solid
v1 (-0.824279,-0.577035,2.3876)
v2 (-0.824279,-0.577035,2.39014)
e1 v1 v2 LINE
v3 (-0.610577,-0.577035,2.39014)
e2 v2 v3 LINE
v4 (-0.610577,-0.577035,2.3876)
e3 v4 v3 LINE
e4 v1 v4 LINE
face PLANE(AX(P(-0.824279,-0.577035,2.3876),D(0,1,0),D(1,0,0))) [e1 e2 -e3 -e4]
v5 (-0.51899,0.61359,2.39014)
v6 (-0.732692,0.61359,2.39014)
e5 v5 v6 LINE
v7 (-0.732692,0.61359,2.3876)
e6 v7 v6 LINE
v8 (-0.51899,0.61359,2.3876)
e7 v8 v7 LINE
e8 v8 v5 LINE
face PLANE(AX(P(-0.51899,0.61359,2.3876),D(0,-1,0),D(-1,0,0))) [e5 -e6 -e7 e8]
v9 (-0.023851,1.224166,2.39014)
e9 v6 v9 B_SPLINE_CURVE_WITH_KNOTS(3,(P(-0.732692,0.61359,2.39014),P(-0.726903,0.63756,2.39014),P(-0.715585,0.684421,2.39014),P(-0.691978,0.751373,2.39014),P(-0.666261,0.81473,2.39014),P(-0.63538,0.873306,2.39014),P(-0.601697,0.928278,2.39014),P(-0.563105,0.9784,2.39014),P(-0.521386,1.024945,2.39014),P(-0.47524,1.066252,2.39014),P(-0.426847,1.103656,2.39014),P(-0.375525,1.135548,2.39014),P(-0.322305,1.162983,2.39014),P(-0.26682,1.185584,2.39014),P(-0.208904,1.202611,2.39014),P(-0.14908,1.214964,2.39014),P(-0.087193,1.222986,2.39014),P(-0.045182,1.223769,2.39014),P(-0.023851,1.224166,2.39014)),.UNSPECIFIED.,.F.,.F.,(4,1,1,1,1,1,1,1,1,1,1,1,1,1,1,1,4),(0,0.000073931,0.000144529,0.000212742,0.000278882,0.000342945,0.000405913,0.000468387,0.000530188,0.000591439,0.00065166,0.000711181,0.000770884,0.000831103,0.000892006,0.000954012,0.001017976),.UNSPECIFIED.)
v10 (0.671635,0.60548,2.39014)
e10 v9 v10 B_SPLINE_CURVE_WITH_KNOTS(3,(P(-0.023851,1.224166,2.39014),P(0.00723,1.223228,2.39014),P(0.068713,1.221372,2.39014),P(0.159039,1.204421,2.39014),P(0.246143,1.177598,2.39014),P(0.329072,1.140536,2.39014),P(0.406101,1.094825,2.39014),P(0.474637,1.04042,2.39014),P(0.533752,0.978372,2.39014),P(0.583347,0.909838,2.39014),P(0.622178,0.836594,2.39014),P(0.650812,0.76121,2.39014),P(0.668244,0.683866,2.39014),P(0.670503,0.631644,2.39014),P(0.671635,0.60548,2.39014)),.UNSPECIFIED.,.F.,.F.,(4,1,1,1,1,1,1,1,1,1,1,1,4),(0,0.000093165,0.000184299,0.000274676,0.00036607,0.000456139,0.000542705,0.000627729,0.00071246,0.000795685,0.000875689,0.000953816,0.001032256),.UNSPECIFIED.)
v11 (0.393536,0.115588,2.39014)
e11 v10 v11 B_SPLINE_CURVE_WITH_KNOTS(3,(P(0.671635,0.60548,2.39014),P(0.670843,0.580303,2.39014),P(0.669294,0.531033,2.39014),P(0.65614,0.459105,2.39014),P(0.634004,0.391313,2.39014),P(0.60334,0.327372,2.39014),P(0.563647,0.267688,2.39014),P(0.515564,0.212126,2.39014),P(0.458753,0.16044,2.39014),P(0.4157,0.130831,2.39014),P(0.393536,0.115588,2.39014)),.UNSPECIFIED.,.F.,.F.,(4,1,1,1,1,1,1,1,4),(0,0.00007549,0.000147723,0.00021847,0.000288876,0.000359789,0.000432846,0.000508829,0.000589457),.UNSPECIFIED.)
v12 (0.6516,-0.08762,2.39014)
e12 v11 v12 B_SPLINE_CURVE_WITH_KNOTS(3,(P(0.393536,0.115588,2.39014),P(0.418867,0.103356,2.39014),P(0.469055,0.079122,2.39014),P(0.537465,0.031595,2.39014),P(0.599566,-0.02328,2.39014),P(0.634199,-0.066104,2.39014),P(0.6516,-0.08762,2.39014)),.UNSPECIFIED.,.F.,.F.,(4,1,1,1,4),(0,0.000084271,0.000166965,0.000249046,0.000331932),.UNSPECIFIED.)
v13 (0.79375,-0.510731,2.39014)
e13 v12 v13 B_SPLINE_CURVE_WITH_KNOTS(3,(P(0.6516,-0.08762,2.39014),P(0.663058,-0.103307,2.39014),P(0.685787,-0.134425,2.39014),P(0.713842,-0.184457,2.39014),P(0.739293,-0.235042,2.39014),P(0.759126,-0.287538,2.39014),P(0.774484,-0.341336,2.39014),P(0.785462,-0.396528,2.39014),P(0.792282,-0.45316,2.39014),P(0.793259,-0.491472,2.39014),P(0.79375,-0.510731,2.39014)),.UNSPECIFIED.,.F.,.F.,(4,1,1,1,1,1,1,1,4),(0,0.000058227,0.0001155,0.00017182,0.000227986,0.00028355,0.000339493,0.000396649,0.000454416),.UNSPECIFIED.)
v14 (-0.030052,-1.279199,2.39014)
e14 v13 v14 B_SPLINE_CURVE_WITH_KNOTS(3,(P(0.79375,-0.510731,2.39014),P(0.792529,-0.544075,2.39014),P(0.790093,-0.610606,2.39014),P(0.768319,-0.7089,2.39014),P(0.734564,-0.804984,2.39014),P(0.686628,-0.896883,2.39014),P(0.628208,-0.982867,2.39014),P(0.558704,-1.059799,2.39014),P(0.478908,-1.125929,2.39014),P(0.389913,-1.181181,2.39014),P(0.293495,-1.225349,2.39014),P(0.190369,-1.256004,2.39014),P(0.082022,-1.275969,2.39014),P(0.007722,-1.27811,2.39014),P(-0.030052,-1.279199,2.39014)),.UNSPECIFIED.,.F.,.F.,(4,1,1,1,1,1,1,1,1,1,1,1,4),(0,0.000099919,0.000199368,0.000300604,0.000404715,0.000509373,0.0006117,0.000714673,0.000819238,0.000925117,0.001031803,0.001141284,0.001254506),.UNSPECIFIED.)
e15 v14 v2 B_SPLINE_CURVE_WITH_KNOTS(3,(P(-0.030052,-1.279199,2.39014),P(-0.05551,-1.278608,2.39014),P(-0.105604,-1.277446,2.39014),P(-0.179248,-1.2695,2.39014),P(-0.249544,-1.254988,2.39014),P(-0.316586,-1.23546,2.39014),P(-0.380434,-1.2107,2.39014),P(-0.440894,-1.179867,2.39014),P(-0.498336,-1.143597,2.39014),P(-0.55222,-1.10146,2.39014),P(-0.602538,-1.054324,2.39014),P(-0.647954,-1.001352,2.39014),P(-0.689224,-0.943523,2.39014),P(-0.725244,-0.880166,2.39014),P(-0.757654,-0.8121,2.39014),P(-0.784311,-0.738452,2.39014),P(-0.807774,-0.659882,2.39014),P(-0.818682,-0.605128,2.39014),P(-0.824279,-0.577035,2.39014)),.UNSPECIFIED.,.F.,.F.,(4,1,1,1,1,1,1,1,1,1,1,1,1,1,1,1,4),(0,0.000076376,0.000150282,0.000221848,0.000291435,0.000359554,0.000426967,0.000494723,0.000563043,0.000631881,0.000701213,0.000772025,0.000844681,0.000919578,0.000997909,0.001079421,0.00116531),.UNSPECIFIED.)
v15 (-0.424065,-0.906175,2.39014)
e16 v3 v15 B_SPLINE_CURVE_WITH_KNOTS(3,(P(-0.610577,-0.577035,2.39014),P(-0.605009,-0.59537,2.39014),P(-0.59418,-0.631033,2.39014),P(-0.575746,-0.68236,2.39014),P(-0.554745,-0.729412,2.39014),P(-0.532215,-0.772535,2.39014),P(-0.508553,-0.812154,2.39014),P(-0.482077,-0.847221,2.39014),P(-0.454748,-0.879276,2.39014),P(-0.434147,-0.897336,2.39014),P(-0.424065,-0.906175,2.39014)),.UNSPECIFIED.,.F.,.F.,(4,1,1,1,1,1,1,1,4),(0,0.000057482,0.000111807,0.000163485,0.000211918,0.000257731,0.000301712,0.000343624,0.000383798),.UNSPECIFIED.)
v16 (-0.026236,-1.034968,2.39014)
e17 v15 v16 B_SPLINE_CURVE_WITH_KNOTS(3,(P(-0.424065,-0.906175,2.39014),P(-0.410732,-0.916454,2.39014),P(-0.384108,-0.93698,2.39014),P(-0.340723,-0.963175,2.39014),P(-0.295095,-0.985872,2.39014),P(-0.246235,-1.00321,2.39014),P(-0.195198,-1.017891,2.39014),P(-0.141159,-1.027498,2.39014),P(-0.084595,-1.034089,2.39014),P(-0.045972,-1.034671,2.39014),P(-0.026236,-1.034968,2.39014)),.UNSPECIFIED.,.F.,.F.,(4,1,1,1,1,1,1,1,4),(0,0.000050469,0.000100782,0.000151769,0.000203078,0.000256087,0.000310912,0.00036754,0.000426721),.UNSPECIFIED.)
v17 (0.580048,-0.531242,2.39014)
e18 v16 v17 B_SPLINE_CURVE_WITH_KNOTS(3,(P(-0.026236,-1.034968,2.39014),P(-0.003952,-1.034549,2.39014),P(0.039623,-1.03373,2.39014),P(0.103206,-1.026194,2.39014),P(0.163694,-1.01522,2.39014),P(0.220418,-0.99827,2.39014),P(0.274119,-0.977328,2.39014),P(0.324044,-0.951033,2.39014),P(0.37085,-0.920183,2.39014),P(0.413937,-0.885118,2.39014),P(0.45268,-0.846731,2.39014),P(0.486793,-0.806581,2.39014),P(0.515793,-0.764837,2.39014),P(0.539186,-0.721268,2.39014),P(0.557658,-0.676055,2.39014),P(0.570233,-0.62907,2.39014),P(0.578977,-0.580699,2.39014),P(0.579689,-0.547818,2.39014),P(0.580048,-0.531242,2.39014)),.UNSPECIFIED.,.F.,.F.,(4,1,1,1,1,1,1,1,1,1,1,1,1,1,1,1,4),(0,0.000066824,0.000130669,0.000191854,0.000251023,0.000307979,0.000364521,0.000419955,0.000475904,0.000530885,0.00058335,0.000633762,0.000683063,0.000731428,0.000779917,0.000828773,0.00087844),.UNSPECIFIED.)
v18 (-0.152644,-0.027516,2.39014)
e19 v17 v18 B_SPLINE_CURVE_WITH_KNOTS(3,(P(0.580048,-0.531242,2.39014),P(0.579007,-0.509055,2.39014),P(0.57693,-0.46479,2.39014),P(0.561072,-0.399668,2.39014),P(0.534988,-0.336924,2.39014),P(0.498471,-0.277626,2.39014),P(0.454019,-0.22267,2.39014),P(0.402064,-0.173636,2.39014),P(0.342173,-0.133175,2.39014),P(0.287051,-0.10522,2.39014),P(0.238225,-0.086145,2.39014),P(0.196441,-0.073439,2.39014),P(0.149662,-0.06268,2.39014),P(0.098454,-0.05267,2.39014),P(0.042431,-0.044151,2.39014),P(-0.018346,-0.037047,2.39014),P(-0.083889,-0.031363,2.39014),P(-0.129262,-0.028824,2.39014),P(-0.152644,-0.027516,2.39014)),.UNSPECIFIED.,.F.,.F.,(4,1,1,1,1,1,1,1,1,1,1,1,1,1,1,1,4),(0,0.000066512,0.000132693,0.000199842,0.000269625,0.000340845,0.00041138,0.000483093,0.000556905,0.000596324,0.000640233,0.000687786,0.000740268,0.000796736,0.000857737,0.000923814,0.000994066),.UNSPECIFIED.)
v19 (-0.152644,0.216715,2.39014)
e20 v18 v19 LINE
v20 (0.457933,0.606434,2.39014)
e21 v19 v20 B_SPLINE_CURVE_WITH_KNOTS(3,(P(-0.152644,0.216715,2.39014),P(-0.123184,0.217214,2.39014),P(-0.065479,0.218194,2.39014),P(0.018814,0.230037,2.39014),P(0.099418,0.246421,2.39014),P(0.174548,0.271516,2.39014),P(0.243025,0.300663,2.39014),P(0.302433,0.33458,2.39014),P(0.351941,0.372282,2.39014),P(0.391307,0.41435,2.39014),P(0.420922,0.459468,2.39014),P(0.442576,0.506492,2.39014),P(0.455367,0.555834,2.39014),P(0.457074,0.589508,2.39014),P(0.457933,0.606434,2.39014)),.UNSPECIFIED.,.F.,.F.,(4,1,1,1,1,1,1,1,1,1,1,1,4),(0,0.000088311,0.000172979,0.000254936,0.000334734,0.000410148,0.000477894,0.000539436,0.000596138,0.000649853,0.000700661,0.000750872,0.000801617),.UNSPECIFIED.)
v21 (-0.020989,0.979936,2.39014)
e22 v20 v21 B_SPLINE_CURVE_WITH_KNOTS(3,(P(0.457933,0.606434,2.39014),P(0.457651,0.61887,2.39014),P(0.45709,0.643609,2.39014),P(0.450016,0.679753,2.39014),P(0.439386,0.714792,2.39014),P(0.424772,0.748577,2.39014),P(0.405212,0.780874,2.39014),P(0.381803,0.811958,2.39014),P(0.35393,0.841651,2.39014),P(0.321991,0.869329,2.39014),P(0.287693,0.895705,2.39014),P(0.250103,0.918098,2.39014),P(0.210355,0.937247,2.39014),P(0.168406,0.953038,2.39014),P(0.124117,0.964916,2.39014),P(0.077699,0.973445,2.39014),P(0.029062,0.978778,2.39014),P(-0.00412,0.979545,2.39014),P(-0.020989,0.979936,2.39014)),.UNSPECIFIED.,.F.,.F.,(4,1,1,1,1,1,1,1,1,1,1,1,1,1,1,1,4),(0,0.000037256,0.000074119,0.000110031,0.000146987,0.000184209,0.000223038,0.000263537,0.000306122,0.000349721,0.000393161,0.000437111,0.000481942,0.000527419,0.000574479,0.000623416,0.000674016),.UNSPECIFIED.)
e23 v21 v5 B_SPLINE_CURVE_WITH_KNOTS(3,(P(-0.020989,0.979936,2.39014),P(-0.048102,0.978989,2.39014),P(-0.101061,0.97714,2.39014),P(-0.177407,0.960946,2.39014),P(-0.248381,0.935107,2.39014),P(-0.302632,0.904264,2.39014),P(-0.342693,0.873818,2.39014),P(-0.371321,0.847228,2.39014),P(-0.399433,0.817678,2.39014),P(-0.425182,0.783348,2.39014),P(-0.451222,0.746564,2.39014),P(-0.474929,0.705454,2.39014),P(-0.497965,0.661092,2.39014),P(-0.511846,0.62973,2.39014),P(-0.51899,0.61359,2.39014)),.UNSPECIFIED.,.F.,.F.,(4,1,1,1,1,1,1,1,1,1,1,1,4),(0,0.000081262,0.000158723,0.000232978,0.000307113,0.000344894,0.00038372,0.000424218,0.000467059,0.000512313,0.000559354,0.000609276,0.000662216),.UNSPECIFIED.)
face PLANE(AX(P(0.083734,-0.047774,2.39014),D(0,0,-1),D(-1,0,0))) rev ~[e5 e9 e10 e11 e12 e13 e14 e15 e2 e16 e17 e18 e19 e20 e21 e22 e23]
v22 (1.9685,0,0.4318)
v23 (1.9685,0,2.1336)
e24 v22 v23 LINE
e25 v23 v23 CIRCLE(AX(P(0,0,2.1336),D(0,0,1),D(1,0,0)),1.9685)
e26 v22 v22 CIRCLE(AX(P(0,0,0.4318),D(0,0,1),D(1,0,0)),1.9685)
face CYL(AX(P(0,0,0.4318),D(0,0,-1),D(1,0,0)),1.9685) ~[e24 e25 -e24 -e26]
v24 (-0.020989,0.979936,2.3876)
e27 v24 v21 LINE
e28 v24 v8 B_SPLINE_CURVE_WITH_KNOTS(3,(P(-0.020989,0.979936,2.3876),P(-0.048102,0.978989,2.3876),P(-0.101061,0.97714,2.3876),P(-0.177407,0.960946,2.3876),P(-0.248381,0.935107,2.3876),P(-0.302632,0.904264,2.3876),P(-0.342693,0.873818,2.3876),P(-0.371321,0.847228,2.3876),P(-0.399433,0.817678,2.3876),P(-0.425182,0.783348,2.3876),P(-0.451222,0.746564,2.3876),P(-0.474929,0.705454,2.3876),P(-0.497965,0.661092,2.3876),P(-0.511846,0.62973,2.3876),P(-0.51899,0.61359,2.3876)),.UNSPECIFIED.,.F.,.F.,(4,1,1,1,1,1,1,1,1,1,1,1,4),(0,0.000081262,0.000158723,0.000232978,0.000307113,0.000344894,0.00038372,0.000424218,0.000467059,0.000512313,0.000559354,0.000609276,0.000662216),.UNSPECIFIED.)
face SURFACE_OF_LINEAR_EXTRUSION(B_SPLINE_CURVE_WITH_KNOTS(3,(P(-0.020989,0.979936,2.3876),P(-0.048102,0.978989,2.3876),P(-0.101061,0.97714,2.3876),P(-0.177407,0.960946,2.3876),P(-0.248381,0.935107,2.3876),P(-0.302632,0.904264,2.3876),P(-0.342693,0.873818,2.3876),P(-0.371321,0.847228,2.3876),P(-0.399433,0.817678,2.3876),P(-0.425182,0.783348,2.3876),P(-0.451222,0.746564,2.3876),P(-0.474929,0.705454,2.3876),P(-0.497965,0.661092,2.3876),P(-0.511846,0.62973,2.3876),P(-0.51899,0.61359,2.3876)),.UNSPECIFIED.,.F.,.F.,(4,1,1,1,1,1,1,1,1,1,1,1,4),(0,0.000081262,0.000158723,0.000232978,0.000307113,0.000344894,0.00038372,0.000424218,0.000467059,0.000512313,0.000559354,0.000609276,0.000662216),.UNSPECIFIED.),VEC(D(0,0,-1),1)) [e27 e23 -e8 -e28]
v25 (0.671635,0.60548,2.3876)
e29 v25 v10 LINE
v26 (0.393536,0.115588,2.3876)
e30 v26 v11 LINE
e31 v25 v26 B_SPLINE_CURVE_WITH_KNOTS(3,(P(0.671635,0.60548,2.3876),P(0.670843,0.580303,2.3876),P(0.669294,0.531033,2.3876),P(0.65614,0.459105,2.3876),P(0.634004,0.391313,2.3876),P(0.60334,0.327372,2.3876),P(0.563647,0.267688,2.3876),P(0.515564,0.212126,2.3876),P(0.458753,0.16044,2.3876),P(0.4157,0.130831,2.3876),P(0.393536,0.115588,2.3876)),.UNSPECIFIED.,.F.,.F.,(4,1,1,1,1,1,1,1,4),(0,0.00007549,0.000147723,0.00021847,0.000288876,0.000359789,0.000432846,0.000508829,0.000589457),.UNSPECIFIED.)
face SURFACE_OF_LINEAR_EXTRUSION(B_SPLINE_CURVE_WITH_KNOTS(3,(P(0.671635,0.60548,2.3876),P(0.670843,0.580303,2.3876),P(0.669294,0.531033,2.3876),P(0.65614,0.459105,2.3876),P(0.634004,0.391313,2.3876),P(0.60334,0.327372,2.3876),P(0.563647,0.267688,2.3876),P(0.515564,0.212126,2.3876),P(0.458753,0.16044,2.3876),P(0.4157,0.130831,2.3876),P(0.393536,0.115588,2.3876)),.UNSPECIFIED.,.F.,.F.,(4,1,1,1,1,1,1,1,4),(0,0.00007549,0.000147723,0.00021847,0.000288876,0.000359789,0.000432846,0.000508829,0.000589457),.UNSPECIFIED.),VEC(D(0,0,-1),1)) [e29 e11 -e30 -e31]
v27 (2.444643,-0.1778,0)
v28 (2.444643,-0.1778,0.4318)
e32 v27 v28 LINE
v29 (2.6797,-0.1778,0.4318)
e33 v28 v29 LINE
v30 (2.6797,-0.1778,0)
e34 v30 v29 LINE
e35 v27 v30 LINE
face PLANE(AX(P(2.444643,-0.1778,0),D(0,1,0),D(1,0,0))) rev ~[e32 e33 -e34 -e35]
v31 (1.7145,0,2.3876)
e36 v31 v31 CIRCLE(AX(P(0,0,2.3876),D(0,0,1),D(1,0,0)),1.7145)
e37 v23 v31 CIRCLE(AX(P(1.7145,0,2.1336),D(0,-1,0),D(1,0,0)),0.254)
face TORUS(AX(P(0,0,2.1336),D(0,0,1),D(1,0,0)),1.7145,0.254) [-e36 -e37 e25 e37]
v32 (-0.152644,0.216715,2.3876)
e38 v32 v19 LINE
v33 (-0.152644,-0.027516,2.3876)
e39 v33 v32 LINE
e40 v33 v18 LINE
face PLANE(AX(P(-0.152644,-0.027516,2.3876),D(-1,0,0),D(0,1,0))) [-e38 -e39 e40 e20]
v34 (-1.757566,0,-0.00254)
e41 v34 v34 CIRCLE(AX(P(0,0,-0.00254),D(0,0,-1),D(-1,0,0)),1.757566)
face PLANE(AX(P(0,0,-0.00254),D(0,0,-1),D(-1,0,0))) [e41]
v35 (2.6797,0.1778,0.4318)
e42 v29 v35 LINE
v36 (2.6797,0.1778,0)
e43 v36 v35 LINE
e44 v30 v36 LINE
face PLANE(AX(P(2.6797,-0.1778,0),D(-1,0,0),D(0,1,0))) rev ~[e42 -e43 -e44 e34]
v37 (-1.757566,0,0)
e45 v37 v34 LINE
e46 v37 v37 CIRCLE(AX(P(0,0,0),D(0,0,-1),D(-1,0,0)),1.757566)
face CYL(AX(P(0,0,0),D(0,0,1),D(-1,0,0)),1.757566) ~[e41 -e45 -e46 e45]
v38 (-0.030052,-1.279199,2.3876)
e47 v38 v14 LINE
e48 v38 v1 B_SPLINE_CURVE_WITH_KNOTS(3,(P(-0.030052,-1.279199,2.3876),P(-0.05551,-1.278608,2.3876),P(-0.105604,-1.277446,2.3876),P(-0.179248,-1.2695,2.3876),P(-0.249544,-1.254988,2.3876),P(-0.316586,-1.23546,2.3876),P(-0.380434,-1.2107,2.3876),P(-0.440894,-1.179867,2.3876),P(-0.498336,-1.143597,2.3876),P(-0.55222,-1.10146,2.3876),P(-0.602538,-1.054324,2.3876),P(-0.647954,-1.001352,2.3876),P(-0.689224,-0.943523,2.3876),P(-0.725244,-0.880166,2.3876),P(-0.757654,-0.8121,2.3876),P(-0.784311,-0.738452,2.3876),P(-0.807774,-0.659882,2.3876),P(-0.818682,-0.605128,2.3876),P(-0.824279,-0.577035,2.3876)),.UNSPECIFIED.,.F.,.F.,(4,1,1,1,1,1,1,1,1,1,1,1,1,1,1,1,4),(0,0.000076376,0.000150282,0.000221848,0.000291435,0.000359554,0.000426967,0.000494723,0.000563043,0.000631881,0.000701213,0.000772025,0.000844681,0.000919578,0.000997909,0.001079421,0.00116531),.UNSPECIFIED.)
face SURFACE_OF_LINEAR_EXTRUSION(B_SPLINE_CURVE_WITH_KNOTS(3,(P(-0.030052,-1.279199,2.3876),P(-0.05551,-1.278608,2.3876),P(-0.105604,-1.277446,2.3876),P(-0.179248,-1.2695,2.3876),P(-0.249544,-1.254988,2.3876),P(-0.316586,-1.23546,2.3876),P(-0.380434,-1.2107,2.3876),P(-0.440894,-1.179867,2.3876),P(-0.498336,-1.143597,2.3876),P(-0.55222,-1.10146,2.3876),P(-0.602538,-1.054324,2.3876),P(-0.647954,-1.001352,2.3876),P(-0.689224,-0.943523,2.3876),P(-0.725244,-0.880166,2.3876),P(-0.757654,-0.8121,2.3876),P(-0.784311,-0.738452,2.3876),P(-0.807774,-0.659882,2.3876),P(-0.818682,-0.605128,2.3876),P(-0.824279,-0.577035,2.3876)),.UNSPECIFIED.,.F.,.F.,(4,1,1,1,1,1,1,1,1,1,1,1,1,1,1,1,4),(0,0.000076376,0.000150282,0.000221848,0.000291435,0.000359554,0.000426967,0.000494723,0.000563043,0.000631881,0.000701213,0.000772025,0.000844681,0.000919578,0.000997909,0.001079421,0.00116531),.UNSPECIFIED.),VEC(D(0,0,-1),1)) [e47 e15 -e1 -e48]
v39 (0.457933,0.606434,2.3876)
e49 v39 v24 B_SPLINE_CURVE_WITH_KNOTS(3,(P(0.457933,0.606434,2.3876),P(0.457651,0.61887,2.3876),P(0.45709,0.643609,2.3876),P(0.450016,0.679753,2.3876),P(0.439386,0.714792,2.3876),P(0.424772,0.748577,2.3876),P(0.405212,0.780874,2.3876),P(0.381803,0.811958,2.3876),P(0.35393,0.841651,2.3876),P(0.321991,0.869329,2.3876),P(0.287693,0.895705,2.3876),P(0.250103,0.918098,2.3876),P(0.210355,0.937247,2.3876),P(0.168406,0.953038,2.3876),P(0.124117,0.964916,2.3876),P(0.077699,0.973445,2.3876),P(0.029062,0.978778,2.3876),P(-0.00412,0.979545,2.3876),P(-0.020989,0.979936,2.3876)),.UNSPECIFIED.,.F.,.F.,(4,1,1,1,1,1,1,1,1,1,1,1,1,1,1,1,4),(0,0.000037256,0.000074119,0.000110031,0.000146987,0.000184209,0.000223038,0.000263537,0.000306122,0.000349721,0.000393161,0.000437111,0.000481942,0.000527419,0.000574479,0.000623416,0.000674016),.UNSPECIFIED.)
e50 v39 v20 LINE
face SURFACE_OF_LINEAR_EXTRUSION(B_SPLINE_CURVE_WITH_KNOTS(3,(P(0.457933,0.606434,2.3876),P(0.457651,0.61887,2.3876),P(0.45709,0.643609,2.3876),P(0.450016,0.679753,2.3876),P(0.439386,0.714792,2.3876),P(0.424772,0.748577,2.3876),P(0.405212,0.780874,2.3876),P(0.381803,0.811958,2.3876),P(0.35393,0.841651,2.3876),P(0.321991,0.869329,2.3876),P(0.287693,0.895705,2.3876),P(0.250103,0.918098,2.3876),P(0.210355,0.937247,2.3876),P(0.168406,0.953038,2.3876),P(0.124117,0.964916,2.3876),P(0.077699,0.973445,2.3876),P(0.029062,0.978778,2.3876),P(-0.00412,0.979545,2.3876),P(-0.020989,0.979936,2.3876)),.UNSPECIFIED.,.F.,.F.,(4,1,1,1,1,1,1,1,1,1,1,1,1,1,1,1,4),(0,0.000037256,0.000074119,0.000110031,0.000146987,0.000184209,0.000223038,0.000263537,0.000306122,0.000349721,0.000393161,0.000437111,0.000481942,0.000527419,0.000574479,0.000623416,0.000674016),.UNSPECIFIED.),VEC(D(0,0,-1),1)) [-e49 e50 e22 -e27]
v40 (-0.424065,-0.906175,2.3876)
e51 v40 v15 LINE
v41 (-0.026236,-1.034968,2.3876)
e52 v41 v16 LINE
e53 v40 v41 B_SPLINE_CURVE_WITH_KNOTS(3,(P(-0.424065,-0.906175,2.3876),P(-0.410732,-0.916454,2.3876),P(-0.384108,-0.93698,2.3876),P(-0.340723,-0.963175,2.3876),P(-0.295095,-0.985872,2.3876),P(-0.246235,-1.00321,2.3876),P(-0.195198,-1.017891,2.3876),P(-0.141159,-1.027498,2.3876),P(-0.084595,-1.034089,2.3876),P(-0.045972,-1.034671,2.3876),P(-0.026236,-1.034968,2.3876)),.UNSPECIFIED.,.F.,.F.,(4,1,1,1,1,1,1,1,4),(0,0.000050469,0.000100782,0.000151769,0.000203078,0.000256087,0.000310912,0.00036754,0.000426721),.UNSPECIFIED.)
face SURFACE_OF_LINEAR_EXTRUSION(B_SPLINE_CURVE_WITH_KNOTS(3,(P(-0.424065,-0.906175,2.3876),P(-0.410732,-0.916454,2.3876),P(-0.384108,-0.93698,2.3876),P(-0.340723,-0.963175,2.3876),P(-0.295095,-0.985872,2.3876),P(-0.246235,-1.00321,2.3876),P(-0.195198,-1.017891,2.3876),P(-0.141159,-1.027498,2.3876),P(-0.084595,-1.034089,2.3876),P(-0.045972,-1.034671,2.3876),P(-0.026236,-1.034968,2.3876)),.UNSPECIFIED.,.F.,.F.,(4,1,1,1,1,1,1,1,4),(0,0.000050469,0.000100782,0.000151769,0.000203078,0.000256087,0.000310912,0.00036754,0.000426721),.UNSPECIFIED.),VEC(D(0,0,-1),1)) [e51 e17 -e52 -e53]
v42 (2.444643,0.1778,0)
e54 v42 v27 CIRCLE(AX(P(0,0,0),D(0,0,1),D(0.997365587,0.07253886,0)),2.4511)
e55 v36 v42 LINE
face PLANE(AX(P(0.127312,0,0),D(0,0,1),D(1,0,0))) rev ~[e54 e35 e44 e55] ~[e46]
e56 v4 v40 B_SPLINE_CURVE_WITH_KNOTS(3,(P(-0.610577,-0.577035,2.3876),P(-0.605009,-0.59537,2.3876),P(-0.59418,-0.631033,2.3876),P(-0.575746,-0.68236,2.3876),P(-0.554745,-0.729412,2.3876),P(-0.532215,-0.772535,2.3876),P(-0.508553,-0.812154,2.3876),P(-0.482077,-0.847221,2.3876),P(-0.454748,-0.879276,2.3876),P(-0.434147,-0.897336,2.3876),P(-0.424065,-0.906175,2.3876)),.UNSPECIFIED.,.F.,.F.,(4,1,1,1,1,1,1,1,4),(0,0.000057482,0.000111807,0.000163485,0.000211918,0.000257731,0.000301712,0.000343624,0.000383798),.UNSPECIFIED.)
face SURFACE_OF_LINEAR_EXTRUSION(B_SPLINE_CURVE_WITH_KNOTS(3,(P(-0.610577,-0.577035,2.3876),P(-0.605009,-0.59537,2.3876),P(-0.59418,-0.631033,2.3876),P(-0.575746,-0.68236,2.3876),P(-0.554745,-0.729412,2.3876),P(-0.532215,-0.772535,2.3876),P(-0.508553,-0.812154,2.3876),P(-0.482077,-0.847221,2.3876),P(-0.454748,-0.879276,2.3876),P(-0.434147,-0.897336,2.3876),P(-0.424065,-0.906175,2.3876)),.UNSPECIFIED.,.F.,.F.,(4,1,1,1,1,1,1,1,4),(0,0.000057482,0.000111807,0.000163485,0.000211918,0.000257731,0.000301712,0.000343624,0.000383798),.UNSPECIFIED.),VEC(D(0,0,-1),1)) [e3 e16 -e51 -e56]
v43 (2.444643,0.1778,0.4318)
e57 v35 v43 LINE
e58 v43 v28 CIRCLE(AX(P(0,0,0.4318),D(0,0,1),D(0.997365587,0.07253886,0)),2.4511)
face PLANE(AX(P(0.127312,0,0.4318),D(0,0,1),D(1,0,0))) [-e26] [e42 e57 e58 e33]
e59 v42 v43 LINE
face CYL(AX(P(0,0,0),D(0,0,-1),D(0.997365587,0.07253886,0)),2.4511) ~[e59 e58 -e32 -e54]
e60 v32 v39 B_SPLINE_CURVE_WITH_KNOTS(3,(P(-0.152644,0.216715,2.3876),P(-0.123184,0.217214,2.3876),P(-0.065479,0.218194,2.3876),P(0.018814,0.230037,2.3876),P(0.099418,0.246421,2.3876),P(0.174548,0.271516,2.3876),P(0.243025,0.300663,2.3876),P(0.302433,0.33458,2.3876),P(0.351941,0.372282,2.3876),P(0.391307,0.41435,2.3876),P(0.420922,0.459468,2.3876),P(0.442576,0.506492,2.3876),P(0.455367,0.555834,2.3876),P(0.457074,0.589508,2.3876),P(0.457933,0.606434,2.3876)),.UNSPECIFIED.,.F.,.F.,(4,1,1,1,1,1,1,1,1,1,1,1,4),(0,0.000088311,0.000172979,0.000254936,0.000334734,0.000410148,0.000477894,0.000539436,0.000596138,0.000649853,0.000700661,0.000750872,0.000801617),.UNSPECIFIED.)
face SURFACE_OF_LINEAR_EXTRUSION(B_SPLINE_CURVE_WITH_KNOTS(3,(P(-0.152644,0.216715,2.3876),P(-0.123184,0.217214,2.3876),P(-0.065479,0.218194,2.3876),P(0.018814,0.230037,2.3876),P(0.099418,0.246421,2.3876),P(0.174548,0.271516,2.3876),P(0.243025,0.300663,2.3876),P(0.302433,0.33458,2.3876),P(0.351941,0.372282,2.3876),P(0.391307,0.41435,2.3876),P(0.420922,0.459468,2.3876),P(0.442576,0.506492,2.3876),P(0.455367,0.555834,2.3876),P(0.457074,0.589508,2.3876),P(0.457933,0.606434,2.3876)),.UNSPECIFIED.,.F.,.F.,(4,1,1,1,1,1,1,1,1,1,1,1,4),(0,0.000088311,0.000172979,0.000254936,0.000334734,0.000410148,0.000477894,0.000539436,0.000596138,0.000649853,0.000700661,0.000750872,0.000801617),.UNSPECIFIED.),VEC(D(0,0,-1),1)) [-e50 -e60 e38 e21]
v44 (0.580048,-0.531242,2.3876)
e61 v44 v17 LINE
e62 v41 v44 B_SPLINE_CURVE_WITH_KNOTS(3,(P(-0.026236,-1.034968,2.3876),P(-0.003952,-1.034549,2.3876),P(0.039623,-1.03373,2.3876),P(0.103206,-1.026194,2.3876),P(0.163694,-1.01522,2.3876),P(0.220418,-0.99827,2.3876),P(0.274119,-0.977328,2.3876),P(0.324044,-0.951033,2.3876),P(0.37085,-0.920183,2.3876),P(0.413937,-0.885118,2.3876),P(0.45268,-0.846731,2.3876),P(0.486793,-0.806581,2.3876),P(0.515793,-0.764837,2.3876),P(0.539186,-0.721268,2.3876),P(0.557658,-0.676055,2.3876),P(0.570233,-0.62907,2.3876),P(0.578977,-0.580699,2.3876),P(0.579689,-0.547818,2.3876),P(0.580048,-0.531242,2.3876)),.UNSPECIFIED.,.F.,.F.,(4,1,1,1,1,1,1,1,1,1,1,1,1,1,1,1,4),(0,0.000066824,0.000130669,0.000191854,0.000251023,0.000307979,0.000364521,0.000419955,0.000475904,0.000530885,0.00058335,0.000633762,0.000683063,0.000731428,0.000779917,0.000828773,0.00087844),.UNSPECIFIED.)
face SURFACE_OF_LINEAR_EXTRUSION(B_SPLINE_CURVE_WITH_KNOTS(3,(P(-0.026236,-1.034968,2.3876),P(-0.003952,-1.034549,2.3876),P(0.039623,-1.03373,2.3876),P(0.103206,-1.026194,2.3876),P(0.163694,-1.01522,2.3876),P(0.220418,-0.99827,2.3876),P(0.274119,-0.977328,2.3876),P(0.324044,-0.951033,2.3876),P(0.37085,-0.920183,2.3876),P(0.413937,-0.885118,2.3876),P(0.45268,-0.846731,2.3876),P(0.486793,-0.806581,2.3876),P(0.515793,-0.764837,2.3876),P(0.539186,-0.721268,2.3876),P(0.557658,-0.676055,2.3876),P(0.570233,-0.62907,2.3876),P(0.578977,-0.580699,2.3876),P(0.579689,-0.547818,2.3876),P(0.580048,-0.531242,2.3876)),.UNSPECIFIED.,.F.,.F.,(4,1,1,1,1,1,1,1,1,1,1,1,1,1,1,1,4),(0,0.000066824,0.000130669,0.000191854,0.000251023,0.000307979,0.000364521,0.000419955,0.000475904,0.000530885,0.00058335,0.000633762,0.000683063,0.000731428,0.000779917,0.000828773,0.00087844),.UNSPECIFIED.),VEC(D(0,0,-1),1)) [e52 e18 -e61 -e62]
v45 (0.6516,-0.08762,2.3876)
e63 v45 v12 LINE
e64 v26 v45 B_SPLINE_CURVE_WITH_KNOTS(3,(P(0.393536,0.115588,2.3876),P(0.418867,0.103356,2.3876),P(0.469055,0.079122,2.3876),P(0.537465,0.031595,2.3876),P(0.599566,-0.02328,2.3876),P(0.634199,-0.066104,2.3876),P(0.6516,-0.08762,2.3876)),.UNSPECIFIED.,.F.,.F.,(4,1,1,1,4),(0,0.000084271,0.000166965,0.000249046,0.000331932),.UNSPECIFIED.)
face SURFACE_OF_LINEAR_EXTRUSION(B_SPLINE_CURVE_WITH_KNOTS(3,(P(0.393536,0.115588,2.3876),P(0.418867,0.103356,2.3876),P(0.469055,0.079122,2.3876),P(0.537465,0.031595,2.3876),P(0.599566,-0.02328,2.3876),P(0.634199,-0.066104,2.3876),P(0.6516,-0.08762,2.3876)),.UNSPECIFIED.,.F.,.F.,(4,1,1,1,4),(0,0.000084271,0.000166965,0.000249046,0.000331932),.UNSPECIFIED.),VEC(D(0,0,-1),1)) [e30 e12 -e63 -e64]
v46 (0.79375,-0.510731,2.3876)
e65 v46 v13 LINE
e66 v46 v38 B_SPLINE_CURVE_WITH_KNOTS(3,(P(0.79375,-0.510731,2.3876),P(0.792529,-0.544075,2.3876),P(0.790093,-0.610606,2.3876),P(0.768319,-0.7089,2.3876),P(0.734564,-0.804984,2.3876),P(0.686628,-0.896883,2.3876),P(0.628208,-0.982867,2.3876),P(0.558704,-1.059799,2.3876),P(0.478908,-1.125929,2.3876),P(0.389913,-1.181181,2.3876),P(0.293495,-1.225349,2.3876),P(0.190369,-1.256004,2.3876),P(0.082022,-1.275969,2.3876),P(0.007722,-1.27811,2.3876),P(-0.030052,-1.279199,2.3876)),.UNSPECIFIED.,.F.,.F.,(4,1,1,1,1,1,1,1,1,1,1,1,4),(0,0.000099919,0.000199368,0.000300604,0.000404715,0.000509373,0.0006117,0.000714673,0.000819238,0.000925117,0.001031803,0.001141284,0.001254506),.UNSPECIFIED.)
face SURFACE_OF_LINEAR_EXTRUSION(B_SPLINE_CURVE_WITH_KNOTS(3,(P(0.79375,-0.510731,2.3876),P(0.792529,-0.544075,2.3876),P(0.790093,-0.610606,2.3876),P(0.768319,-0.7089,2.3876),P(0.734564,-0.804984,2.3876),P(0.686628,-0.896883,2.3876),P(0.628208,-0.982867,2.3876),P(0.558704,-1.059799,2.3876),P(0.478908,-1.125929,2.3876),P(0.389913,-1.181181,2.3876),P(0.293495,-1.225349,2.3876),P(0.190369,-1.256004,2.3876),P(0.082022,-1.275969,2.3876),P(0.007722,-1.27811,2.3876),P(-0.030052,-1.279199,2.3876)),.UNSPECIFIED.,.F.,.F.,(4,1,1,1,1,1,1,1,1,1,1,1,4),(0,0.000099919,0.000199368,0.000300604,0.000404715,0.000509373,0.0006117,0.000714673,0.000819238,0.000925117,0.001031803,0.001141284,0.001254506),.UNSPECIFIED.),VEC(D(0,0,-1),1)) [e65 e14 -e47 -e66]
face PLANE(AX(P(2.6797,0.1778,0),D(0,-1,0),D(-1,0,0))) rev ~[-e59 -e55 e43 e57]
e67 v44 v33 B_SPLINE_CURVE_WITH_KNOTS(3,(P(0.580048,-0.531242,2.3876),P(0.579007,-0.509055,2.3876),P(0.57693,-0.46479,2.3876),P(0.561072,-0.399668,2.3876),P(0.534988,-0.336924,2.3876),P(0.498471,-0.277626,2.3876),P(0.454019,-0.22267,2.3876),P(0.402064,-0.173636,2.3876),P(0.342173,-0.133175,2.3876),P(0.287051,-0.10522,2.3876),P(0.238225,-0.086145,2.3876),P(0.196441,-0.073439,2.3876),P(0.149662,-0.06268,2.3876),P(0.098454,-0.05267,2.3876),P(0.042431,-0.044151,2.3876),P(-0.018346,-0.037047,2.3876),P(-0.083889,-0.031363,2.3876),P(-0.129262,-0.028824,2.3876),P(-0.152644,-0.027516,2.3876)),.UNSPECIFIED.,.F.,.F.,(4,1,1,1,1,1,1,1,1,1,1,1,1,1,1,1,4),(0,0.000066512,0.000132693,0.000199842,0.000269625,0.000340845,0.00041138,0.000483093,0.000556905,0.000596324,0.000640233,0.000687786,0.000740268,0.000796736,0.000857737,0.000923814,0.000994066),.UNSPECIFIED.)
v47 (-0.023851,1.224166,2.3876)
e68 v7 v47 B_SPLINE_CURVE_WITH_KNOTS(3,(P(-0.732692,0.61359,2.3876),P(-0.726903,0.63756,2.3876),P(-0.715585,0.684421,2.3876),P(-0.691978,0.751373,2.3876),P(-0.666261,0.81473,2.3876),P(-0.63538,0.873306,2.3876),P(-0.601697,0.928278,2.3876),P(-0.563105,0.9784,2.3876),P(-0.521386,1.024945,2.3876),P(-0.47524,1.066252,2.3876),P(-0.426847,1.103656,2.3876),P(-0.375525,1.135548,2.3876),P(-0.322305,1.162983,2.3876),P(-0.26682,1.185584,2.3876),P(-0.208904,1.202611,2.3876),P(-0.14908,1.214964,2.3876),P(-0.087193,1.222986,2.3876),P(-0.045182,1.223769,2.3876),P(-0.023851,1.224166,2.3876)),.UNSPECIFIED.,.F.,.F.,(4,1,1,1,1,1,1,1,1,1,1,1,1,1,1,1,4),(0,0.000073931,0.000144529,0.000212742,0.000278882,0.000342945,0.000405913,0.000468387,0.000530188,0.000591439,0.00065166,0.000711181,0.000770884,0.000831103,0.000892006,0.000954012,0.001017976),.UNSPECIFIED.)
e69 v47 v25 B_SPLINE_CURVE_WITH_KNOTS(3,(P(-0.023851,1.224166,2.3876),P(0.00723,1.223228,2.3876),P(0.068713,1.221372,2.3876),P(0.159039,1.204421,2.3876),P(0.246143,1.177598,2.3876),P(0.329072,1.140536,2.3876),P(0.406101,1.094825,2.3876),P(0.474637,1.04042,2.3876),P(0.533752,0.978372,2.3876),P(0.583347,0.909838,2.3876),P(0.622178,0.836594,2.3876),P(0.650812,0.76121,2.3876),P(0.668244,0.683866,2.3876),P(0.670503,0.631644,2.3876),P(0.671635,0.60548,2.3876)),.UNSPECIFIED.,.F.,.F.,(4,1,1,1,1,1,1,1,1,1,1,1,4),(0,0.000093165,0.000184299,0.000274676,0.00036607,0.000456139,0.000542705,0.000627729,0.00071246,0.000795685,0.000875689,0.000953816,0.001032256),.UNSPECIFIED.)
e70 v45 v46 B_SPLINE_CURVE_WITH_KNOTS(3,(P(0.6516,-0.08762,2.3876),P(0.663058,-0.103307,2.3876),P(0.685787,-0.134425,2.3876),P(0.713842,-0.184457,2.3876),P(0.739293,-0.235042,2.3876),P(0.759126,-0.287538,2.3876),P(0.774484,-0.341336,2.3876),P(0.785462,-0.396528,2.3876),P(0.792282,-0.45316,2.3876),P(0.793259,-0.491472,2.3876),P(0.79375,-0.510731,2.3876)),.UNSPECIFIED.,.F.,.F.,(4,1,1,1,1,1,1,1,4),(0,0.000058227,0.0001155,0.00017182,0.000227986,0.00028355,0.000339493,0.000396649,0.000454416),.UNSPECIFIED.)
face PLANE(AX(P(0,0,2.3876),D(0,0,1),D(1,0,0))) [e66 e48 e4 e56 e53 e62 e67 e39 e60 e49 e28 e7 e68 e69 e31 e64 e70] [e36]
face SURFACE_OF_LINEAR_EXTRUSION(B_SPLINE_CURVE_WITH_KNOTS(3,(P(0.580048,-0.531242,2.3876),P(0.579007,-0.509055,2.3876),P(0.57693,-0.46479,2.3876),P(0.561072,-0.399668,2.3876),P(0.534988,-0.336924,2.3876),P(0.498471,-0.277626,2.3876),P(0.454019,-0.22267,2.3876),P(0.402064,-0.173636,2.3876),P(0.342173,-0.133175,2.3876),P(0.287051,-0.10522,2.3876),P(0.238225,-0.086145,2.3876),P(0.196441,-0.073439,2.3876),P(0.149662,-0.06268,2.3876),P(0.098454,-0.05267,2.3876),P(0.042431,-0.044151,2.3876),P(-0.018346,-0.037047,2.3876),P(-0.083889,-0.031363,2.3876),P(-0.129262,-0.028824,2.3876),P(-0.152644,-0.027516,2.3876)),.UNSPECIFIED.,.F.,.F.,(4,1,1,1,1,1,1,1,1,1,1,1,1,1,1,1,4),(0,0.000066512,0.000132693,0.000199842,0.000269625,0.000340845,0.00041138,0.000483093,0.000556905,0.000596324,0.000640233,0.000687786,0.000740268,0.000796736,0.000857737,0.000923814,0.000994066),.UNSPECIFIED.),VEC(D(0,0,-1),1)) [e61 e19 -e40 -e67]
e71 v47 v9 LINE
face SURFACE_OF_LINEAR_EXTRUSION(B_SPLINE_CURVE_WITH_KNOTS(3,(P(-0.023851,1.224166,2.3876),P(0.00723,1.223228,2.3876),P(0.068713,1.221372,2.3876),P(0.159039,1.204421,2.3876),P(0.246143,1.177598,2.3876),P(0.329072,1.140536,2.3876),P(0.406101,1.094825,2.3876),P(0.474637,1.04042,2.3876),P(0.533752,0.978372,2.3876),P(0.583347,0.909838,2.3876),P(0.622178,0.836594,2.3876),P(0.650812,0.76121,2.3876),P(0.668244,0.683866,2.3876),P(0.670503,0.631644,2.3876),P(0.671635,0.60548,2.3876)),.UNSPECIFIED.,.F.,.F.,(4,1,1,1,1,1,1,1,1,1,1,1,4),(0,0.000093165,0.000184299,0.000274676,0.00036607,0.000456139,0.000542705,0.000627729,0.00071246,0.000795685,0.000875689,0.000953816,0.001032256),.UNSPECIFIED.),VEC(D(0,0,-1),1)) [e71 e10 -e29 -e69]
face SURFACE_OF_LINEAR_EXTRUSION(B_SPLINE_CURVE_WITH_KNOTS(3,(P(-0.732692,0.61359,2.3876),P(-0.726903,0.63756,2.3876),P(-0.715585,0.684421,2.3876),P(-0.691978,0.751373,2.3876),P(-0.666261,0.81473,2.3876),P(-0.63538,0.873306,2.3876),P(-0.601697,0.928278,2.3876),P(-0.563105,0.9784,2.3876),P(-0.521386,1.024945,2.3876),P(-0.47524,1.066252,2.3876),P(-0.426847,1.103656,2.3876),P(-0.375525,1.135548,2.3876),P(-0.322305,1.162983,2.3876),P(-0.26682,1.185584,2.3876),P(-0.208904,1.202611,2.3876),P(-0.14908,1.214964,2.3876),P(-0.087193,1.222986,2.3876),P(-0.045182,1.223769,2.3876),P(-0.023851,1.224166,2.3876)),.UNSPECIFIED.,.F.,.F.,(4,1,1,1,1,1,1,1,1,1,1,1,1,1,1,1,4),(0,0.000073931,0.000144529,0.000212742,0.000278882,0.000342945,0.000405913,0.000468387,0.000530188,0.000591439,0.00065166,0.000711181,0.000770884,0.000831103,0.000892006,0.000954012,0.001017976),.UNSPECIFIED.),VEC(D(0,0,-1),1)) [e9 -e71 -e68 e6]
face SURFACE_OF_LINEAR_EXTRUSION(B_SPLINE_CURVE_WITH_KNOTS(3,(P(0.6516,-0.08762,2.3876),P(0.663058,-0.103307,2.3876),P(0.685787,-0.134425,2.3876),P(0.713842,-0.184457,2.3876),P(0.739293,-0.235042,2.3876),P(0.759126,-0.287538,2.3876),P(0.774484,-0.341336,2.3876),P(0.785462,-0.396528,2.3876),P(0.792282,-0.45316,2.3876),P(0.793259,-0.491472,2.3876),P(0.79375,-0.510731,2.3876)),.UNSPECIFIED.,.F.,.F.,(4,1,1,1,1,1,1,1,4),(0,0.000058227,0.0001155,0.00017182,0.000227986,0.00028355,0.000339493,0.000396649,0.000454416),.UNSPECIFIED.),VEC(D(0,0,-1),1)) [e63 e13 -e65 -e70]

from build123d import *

# Parameters (mm, degrees)
BOSS_EXTRUDE1_DEPTH = 0.4318
SKETCH2_R           = 1.9685
BOSS_EXTRUDE2_DEPTH = 1.9558
SKETCH3_R           = 1.757566481
BOSS_EXTRUDE3_DEPTH = 0.00254
FILLET1_R           = 0.254
BOSS_EXTRUDE6_DEPTH = 0.00254


with BuildPart() as part:
    # Sketch1 → Boss-Extrude1 (new body)
    with BuildSketch(Plane.XY):
        with BuildLine():
            Line((2.6797, 0.1778), (2.4511, 0.1778))
            Line((2.4511, 0.1778), (2.44464279, 0.1778))
            ThreePointArc((2.44464279, 0.1778), (-2.4511, 0), (2.44464279, -0.1778))
            Line((2.44464279, -0.1778), (2.4511, -0.1778))
            Line((2.4511, -0.1778), (2.6797, -0.1778))
            Line((2.6797, -0.1778), (2.6797, 0.1778))
        make_face()
    extrude(amount=BOSS_EXTRUDE1_DEPTH)

    # Sketch2 → Boss-Extrude2 (add)
    with BuildSketch(Plane.XY.offset(0.4318)):
        Circle(SKETCH2_R)
    extrude(amount=BOSS_EXTRUDE2_DEPTH)

    # Sketch3 → Boss-Extrude3 (add)
    with BuildSketch(Plane(origin=(0, 0, 0), x_dir=(-1, 0, 0), z_dir=(0, 0, -1))):
        Circle(SKETCH3_R)
    extrude(amount=BOSS_EXTRUDE3_DEPTH)

    # Fillet1
    fillet1_edges = [part.edges().sort_by_distance(p)[0] for p in [
        (-1.9685, 0, 2.3876),
    ]]
    fillet(fillet1_edges, radius=FILLET1_R)

    # Sketch4 → Boss-Extrude6 (add)
    with BuildSketch(Plane.XY.offset(2.3876)):
        with BuildLine():
            Line((-0.518990385, 0.613589562), (-0.732692308, 0.613589562))
            add(Edge.make_bspline(
                [(-0.732692308, 0.613589562), (-0.726902774, 0.637560234), (-0.715584709, 0.684420938), (-0.691977968, 0.751373021), (-0.666260974, 0.814730274), (-0.635380173, 0.873306352), (-0.601696538, 0.928278463), (-0.563104829, 0.978399778), (-0.521385518, 1.024945028), (-0.475240329, 1.066251713), (-0.426847436, 1.103656203), (-0.375524954, 1.135547983), (-0.32230545, 1.162982809), (-0.266820193, 1.185584431), (-0.208903994, 1.202610725), (-0.149080447, 1.214963837), (-0.08719278, 1.222986006), (-0.045182366, 1.223768936), (-0.023850661, 1.224166485)],
                knots=[0, 0, 0, 0, 7.3931e-05, 0.000144529, 0.000212742, 0.000278882, 0.000342945, 0.000405913, 0.000468387, 0.000530188, 0.000591439, 0.00065166, 0.000711181, 0.000770884, 0.000831103, 0.000892006, 0.000954012, 0.001017976, 0.001017976, 0.001017976, 0.001017976], degree=3))
            add(Edge.make_bspline(
                [(-0.023850661, 1.224166485), (0.007229919, 1.223228116), (0.068713121, 1.221371846), (0.159039408, 1.204421132), (0.246143369, 1.177597961), (0.329071589, 1.140536372), (0.406100559, 1.094825003), (0.474637143, 1.040420424), (0.533752362, 0.978372327), (0.583346572, 0.909838208), (0.622177956, 0.836594013), (0.650811721, 0.761210335), (0.668243614, 0.683865993), (0.670502779, 0.63164363), (0.671634615, 0.605480338)],
                knots=[0, 0, 0, 0, 9.3165e-05, 0.000184299, 0.000274676, 0.00036607, 0.000456139, 0.000542705, 0.000627729, 0.00071246, 0.000795685, 0.000875689, 0.000953816, 0.001032256, 0.001032256, 0.001032256, 0.001032256], degree=3))
            add(Edge.make_bspline(
                [(0.671634615, 0.605480338), (0.670842958, 0.5803025), (0.669293807, 0.53103338), (0.656139982, 0.459105005), (0.634003704, 0.39131313), (0.603340169, 0.327372375), (0.563647078, 0.267688154), (0.515564404, 0.212126182), (0.458752772, 0.160440022), (0.415700494, 0.130831238), (0.393535907, 0.115587759)],
                knots=[0, 0, 0, 0, 7.549e-05, 0.000147723, 0.00021847, 0.000288876, 0.000359789, 0.000432846, 0.000508829, 0.000589457, 0.000589457, 0.000589457, 0.000589457], degree=3))
            add(Edge.make_bspline(
                [(0.393535907, 0.115587759), (0.418866798, 0.103356182), (0.469054617, 0.079121889), (0.537464888, 0.031595026), (0.599566443, -0.023280096), (0.634199152, -0.06610358), (0.65160006, -0.087619873)],
                knots=[0, 0, 0, 0, 8.4271e-05, 0.000166965, 0.000249046, 0.000331932, 0.000331932, 0.000331932, 0.000331932], degree=3))
            add(Edge.make_bspline(
                [(0.65160006, -0.087619873), (0.663058188, -0.103307379), (0.685786808, -0.134425497), (0.713841698, -0.18445653), (0.739293256, -0.235042096), (0.759125816, -0.287538049), (0.774484108, -0.341335939), (0.785462372, -0.396528141), (0.792282368, -0.453159724), (0.793259056, -0.491472322), (0.79375, -0.5107306)],
                knots=[0, 0, 0, 0, 5.8227e-05, 0.0001155, 0.00017182, 0.000227986, 0.00028355, 0.000339493, 0.000396649, 0.000454416, 0.000454416, 0.000454416, 0.000454416], degree=3))
            add(Edge.make_bspline(
                [(0.79375, -0.5107306), (0.79252909, -0.544074714), (0.790093015, -0.610606024), (0.768318815, -0.708900432), (0.734564092, -0.804984212), (0.686628212, -0.896883343), (0.628207639, -0.982867138), (0.558704174, -1.059799413), (0.478907529, -1.125929178), (0.389912971, -1.181181136), (0.29349471, -1.225348508), (0.190369174, -1.256003661), (0.082022262, -1.275969422), (0.007722297, -1.278110417), (-0.030051833, -1.279198899)],
                knots=[0, 0, 0, 0, 9.9919e-05, 0.000199368, 0.000300604, 0.000404715, 0.000509373, 0.0006117, 0.000714673, 0.000819238, 0.000925117, 0.001031803, 0.001141284, 0.001254506, 0.001254506, 0.001254506, 0.001254506], degree=3))
            add(Edge.make_bspline(
                [(-0.030051833, -1.279198899), (-0.055510321, -1.278608204), (-0.105604137, -1.277445913), (-0.179248374, -1.269500293), (-0.24954403, -1.254988272), (-0.316586149, -1.235459773), (-0.38043429, -1.210700392), (-0.440893619, -1.179867492), (-0.4983361, -1.14359663), (-0.552219672, -1.101459672), (-0.602537912, -1.054323617), (-0.647953605, -1.001351684), (-0.689223928, -0.943523093), (-0.72524383, -0.880166156), (-0.757653971, -0.812099651), (-0.784311015, -0.738452012), (-0.807773518, -0.659881633), (-0.818682, -0.605128027), (-0.824278846, -0.577035438)],
                knots=[0, 0, 0, 0, 7.6376e-05, 0.000150282, 0.000221848, 0.000291435, 0.000359554, 0.000426967, 0.000494723, 0.000563043, 0.000631881, 0.000701213, 0.000772025, 0.000844681, 0.000919578, 0.000997909, 0.001079421, 0.00116531, 0.00116531, 0.00116531, 0.00116531], degree=3))
            Line((-0.824278846, -0.577035438), (-0.610576923, -0.577035438))
            add(Edge.make_bspline(
                [(-0.610576923, -0.577035438), (-0.605009362, -0.595370391), (-0.594179973, -0.631033469), (-0.575746174, -0.68235982), (-0.554744724, -0.729411995), (-0.532214998, -0.772535155), (-0.508553234, -0.812153986), (-0.482077186, -0.847220865), (-0.454747822, -0.879276029), (-0.434147047, -0.897335845), (-0.424064754, -0.90617456)],
                knots=[0, 0, 0, 0, 5.7482e-05, 0.000111807, 0.000163485, 0.000211918, 0.000257731, 0.000301712, 0.000343624, 0.000383798, 0.000383798, 0.000383798, 0.000383798], degree=3))
            add(Edge.make_bspline(
                [(-0.424064754, -0.90617456), (-0.410732083, -0.916453623), (-0.384107896, -0.93698002), (-0.340722725, -0.963174878), (-0.29509465, -0.98587229), (-0.246235024, -1.003210304), (-0.195198189, -1.01789082), (-0.141159214, -1.027497816), (-0.084594853, -1.034089232), (-0.0459725, -1.034670891), (-0.026235727, -1.03496813)],
                knots=[0, 0, 0, 0, 5.0469e-05, 0.000100782, 0.000151769, 0.000203078, 0.000256087, 0.000310912, 0.00036754, 0.000426721, 0.000426721, 0.000426721, 0.000426721], degree=3))
            add(Edge.make_bspline(
                [(-0.026235727, -1.03496813), (-0.003951648, -1.034549094), (0.039622946, -1.033729707), (0.103205627, -1.02619427), (0.163694444, -1.015219828), (0.22041781, -0.998270103), (0.274118744, -0.97732813), (0.324044474, -0.951033412), (0.370850396, -0.920182806), (0.413937009, -0.885117772), (0.452680292, -0.846731005), (0.486793068, -0.80658104), (0.515793061, -0.764837163), (0.539186174, -0.72126837), (0.557658245, -0.676055081), (0.570233422, -0.629070413), (0.578977042, -0.58069888), (0.579689112, -0.547817921), (0.580048077, -0.531242168)],
                knots=[0, 0, 0, 0, 6.6824e-05, 0.000130669, 0.000191854, 0.000251023, 0.000307979, 0.000364521, 0.000419955, 0.000475904, 0.000530885, 0.00058335, 0.000633762, 0.000683063, 0.000731428, 0.000779917, 0.000828773, 0.00087844, 0.00087844, 0.00087844, 0.00087844], degree=3))
            add(Edge.make_bspline(
                [(0.580048077, -0.531242168), (0.579006925, -0.509054811), (0.576929803, -0.464790498), (0.561071644, -0.399668362), (0.534987524, -0.336923505), (0.498471048, -0.277626441), (0.454019418, -0.222669979), (0.402064008, -0.173635631), (0.342173374, -0.13317473), (0.287050928, -0.105219769), (0.238224991, -0.086144545), (0.196440595, -0.073438899), (0.149661549, -0.062679966), (0.098453551, -0.052670367), (0.042430756, -0.044151378), (-0.018345846, -0.037047214), (-0.083888569, -0.031362802), (-0.129262381, -0.028824325), (-0.152644231, -0.027516207)],
                knots=[0, 0, 0, 0, 6.6512e-05, 0.000132693, 0.000199842, 0.000269625, 0.000340845, 0.00041138, 0.000483093, 0.000556905, 0.000596324, 0.000640233, 0.000687786, 0.000740268, 0.000796736, 0.000857737, 0.000923814, 0.000994066, 0.000994066, 0.000994066, 0.000994066], degree=3))
            Line((-0.152644231, -0.027516207), (-0.152644231, 0.216714562))
            add(Edge.make_bspline(
                [(-0.152644231, 0.216714562), (-0.123183973, 0.217214491), (-0.065478566, 0.218193729), (0.018813809, 0.230037394), (0.099417973, 0.246420821), (0.174547596, 0.271515925), (0.243024667, 0.300662627), (0.302433182, 0.334579934), (0.35194083, 0.372281754), (0.391307024, 0.414350012), (0.420922445, 0.459467928), (0.442576034, 0.50649194), (0.45536697, 0.555834202), (0.45707444, 0.589508253), (0.457932692, 0.606434364)],
                knots=[0, 0, 0, 0, 8.8311e-05, 0.000172979, 0.000254936, 0.000334734, 0.000410148, 0.000477894, 0.000539436, 0.000596138, 0.000649853, 0.000700661, 0.000750872, 0.000801617, 0.000801617, 0.000801617, 0.000801617], degree=3))
            add(Edge.make_bspline(
                [(0.457932692, 0.606434364), (0.457650745, 0.618869758), (0.457089824, 0.643609386), (0.450015962, 0.679753406), (0.439386034, 0.714792442), (0.424772146, 0.748577488), (0.405211743, 0.780874228), (0.381803385, 0.81195801), (0.353930445, 0.841651367), (0.321990775, 0.869328513), (0.287692743, 0.895705441), (0.250103164, 0.918098469), (0.210355424, 0.937247163), (0.168405518, 0.953037913), (0.124117309, 0.964916465), (0.077698883, 0.973445314), (0.029061727, 0.978777718), (-0.004120469, 0.979545444), (-0.020988582, 0.979935716)],
                knots=[0, 0, 0, 0, 3.7256e-05, 7.4119e-05, 0.000110031, 0.000146987, 0.000184209, 0.000223038, 0.000263537, 0.000306122, 0.000349721, 0.000393161, 0.000437111, 0.000481942, 0.000527419, 0.000574479, 0.000623416, 0.000674016, 0.000674016, 0.000674016, 0.000674016], degree=3))
            add(Edge.make_bspline(
                [(-0.020988582, 0.979935716), (-0.048101949, 0.978989093), (-0.101060661, 0.977140118), (-0.177406881, 0.960945568), (-0.248381285, 0.935106907), (-0.302632056, 0.904264264), (-0.342693236, 0.873817987), (-0.371320582, 0.847228006), (-0.399433286, 0.817678174), (-0.425181863, 0.783348458), (-0.451221836, 0.746563731), (-0.474928582, 0.705454048), (-0.497965266, 0.661091772), (-0.511846286, 0.629730278), (-0.518990385, 0.613589562)],
                knots=[0, 0, 0, 0, 8.1262e-05, 0.000158723, 0.000232978, 0.000307113, 0.000344894, 0.00038372, 0.000424218, 0.000467059, 0.000512313, 0.000559354, 0.000609276, 0.000662216, 0.000662216, 0.000662216, 0.000662216], degree=3))
        make_face()
    extrude(amount=BOSS_EXTRUDE6_DEPTH)


solid = part.part
